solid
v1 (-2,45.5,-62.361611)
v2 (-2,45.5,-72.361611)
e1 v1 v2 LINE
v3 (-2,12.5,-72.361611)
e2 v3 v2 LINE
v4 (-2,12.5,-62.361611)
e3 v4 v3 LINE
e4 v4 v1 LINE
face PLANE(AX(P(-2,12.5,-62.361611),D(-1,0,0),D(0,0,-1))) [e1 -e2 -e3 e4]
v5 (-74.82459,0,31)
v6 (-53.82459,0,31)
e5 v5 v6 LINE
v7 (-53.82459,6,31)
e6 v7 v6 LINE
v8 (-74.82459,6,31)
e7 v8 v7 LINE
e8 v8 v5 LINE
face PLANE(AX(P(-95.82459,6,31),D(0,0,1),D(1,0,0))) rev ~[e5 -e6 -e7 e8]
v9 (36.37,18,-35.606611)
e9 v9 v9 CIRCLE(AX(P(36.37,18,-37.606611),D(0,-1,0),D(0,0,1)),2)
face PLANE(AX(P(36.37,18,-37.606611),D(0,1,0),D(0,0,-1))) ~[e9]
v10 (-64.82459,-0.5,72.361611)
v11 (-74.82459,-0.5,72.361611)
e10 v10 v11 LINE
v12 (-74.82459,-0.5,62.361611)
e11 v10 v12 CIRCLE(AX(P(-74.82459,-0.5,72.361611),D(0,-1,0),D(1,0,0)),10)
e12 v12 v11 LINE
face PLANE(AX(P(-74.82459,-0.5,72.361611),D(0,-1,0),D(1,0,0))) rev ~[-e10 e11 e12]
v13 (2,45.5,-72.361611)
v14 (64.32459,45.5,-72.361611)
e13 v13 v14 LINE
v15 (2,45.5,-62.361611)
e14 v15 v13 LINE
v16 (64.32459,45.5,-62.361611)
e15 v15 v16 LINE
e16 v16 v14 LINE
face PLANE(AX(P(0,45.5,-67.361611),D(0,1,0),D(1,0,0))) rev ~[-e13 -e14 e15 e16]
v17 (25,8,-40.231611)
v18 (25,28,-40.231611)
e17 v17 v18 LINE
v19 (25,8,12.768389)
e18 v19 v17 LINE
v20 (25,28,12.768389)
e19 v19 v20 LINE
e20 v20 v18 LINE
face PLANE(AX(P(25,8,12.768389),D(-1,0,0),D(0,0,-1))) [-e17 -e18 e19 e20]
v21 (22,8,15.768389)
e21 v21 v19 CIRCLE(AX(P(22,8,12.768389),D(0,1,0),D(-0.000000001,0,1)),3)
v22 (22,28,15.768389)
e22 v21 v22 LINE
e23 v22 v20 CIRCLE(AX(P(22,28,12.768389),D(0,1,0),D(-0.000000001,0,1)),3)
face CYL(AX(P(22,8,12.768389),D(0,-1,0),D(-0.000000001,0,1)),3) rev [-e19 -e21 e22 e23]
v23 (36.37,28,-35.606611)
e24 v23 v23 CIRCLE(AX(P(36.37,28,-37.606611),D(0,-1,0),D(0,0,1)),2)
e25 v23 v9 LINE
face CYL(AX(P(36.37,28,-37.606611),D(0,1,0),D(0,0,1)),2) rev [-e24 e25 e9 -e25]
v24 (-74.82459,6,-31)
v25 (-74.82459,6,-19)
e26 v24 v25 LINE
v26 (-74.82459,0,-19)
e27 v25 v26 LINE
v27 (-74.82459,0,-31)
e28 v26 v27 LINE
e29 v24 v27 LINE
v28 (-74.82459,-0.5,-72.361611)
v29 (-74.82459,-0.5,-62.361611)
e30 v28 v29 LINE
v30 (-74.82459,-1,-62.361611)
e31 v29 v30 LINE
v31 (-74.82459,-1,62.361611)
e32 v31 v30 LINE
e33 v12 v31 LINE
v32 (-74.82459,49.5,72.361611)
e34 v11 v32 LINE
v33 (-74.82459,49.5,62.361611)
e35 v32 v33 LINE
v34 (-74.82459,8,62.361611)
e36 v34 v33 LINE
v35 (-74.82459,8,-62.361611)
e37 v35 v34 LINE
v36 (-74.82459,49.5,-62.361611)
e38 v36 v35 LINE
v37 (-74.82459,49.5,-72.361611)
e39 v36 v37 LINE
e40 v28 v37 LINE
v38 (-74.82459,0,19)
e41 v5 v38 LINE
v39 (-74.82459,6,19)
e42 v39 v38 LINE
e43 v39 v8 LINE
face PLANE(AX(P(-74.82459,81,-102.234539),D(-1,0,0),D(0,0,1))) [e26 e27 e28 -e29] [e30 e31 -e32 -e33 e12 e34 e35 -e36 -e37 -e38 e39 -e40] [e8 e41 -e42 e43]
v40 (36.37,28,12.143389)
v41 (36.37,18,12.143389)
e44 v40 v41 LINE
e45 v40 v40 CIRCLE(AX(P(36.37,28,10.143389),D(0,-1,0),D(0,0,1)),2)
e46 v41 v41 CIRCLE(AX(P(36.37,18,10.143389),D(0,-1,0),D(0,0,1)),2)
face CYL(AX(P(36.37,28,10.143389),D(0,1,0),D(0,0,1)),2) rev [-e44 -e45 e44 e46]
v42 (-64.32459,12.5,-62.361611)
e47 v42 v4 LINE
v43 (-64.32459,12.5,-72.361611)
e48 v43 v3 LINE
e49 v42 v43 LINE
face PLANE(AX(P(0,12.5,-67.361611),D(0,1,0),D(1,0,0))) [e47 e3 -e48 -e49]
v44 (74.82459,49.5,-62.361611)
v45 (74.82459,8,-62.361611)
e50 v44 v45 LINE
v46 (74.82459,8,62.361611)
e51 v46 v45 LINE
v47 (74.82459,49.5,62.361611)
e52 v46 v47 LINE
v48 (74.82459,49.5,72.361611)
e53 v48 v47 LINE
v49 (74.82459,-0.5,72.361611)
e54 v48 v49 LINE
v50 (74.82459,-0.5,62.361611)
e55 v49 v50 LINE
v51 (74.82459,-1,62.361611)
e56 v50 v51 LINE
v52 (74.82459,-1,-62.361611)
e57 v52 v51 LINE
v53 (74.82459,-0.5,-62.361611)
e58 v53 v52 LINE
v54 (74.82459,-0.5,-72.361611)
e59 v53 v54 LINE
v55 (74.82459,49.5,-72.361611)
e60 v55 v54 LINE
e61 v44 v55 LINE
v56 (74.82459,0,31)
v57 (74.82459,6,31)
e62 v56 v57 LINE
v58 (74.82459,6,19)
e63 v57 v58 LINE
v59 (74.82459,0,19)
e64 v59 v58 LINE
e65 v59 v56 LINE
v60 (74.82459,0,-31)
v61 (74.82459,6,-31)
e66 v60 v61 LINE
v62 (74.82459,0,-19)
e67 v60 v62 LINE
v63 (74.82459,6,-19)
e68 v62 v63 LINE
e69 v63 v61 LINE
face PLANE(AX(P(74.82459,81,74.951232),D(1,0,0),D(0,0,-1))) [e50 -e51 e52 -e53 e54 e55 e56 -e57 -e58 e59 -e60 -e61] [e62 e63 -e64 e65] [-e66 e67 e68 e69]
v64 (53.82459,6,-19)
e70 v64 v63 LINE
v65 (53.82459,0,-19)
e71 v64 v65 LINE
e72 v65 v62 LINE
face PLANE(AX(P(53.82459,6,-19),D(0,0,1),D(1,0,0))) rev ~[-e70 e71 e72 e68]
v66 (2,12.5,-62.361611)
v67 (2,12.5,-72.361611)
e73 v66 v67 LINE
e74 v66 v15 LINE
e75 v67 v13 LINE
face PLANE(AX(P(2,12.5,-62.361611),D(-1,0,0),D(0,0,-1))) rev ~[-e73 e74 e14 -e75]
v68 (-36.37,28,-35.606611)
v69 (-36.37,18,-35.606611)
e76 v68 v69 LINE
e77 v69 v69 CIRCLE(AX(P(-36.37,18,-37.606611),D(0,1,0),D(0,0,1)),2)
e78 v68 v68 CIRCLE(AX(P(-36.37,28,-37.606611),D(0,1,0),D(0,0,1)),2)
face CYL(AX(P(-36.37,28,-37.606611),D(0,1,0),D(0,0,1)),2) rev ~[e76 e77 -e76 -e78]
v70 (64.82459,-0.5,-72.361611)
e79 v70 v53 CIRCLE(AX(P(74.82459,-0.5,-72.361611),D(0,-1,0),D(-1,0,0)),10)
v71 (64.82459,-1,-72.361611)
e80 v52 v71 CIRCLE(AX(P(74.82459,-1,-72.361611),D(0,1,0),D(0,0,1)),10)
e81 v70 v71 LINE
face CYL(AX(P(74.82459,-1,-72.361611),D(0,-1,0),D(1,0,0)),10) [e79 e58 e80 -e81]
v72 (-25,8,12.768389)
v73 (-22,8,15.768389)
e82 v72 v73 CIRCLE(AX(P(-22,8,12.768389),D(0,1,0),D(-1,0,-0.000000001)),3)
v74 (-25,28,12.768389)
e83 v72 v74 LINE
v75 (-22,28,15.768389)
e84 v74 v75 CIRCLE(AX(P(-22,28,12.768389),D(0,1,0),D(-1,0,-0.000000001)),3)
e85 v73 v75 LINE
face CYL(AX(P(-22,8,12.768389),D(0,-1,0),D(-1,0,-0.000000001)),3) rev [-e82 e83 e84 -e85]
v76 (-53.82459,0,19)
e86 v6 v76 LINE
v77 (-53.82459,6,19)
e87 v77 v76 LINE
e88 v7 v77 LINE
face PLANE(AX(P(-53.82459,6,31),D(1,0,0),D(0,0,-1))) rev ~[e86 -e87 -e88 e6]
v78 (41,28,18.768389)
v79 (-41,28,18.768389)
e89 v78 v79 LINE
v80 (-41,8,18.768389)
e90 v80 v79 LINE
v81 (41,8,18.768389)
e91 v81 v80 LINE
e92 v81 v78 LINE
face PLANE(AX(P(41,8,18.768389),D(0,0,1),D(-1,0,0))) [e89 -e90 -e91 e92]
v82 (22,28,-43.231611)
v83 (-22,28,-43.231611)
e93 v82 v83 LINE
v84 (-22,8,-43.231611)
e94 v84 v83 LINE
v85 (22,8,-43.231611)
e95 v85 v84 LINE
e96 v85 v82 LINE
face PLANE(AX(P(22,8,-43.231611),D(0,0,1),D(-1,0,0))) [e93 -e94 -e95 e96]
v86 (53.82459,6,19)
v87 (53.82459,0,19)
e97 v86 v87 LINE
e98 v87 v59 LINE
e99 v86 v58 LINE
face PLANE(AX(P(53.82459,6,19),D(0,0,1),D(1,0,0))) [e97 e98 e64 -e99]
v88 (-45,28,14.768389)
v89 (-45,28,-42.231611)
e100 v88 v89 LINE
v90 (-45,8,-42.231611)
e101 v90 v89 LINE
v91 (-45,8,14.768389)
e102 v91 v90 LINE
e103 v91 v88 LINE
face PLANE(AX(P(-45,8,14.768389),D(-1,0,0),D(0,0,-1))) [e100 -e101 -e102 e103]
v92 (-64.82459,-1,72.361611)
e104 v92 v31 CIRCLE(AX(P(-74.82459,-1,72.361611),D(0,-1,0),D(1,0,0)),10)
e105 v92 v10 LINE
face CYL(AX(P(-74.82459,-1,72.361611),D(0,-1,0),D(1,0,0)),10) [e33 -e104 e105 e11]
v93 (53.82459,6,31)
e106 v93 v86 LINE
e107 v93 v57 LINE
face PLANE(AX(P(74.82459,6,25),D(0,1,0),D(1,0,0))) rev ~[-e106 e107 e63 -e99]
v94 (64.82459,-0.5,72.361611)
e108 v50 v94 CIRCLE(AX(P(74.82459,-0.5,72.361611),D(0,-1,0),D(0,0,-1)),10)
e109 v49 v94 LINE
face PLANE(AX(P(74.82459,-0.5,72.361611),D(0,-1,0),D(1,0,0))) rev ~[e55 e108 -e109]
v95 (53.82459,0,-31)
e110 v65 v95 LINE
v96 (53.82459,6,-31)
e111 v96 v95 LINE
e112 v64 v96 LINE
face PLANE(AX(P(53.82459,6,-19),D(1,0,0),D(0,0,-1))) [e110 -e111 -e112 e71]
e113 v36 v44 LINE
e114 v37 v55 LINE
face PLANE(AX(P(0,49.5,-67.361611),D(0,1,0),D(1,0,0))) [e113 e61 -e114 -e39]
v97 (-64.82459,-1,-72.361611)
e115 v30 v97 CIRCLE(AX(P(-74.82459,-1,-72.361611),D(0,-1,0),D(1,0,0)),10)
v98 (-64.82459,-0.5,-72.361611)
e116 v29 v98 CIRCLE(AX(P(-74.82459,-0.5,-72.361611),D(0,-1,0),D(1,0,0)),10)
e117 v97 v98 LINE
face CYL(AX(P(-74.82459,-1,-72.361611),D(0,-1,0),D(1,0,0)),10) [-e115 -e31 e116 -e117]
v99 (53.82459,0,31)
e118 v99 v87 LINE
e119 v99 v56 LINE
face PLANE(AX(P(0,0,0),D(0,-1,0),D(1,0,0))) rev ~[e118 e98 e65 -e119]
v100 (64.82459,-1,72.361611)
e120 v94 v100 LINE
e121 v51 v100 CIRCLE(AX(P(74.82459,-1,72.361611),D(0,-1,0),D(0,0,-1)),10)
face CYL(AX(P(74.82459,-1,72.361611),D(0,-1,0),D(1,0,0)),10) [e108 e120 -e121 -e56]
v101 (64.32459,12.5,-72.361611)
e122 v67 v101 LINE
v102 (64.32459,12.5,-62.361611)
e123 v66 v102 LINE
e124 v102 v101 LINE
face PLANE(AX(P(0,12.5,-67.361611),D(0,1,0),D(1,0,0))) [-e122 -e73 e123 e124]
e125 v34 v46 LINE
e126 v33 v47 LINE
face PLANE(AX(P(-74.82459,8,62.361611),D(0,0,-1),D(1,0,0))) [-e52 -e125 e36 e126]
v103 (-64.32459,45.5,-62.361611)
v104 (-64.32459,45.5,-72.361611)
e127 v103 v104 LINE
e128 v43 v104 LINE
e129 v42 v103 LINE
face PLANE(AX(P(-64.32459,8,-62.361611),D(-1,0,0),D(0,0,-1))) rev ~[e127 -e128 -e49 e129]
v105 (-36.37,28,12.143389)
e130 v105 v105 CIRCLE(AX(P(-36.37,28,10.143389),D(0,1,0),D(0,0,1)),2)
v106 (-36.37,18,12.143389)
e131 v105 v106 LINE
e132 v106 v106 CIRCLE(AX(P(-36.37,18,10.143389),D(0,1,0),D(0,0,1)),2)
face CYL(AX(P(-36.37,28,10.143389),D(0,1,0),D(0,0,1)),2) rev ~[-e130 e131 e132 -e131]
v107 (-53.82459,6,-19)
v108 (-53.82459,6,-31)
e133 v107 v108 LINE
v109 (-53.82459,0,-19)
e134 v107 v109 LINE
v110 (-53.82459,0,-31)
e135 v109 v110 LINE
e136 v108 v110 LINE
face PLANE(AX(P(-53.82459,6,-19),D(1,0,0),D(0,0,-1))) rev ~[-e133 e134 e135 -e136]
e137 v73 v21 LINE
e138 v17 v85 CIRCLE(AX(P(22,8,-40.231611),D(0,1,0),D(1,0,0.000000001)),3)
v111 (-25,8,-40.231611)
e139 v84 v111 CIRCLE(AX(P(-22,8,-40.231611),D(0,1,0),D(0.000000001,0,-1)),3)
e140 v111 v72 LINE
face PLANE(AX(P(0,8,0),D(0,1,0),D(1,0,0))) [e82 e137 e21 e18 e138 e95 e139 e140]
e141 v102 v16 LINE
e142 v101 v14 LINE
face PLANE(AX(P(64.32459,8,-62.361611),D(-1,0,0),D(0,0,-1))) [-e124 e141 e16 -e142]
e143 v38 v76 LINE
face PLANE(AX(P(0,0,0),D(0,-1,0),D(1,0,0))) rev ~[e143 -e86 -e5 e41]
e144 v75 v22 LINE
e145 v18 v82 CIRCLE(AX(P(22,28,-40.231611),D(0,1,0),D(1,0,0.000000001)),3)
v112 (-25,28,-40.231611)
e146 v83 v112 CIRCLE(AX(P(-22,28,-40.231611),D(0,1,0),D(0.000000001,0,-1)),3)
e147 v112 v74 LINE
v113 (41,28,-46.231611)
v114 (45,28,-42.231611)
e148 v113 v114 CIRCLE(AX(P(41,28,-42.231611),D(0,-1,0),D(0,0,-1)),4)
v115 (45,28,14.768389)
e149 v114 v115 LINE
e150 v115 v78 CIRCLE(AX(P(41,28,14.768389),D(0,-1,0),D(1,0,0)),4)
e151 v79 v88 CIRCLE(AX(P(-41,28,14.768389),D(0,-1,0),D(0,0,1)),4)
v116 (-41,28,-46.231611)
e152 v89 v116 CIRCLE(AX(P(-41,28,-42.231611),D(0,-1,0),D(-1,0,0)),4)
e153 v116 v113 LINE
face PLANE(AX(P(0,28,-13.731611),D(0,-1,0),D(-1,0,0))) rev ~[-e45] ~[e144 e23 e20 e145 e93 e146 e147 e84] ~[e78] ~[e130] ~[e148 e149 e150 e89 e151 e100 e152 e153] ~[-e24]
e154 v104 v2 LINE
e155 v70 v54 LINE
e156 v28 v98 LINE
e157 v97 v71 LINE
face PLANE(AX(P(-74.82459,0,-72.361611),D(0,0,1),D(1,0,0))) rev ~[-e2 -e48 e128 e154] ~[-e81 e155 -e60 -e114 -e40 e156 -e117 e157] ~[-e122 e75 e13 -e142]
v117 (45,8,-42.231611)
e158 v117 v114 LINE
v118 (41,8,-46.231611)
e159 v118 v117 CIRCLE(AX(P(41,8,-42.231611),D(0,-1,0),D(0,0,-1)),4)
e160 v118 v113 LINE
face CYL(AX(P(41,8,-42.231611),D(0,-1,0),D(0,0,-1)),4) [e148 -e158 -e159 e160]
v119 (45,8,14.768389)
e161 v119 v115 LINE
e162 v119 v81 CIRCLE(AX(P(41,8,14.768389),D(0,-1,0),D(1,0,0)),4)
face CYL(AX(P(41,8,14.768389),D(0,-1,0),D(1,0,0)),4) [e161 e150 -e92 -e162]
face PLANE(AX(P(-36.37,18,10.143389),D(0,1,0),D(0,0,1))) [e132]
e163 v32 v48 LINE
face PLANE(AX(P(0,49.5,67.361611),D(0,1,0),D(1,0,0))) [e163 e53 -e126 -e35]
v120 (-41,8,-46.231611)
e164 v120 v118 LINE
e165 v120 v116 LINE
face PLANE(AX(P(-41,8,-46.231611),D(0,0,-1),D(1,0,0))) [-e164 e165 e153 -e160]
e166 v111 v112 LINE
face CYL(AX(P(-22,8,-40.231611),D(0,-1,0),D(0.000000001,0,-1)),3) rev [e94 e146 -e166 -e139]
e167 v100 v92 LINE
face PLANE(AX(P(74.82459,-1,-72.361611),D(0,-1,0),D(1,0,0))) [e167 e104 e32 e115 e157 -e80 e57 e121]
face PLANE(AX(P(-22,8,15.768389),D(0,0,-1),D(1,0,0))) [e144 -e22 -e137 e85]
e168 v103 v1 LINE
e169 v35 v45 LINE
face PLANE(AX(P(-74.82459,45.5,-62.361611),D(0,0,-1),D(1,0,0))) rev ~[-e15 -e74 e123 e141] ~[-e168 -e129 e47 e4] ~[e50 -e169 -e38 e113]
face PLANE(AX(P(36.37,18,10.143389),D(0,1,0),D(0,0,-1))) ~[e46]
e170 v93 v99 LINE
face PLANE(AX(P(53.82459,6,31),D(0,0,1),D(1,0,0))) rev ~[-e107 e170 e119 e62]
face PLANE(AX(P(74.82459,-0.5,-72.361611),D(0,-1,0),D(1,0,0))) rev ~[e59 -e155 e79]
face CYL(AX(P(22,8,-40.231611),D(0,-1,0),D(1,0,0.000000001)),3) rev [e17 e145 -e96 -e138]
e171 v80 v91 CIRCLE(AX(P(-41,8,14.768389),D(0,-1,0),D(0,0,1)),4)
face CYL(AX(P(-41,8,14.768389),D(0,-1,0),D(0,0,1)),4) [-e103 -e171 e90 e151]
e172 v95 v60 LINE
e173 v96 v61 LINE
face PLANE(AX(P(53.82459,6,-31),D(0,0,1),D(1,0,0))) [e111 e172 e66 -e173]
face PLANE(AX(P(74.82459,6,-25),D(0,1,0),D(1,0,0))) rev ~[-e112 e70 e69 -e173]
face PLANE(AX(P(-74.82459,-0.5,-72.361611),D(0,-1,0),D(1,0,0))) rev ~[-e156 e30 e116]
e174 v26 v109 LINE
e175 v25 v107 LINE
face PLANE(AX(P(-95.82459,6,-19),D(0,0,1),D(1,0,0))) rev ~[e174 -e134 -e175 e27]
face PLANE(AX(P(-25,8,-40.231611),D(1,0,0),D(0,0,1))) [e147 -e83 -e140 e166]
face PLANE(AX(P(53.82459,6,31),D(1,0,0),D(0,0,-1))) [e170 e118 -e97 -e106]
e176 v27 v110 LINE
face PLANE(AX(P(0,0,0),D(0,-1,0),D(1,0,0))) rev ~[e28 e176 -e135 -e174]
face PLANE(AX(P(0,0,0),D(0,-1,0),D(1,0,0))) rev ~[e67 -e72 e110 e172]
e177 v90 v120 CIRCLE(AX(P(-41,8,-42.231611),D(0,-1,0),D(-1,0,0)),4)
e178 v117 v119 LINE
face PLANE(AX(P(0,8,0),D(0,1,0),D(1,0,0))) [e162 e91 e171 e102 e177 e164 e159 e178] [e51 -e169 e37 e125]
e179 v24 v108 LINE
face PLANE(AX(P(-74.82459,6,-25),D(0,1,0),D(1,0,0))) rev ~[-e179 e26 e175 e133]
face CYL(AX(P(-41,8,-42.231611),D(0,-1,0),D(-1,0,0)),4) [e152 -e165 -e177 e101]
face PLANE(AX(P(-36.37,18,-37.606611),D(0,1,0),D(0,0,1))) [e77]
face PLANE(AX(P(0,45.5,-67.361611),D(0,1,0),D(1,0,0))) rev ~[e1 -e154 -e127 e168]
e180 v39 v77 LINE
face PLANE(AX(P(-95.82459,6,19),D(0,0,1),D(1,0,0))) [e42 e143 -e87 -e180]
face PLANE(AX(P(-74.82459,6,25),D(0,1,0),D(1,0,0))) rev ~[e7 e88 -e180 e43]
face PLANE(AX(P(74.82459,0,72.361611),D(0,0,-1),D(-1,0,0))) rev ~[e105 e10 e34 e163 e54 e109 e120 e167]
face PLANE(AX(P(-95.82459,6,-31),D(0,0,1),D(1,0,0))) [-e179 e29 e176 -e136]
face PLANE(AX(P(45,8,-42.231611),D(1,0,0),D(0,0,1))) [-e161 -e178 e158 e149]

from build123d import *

# Parameters (mm, degrees)
BOSS_EXTRUDE1_DEPTH     = 8
SKETCH2_W               = 10.5
SKETCH2_H               = 10
BOSS_EXTRUDE2_DEPTH     = 37.5
SKETCH4_W               = 128.649180674
SKETCH4_H               = 10
BOSS_EXTRUDE4_DEPTH     = 4.5
BOSS_EXTRUDE5_DEPTH     = 10
SKETCH6_W               = 149.649180674
SKETCH6_H               = 10
BOSS_EXTRUDE6_DEPTH     = 4
CUT_EXTRUDE1_REACH      = 249.54
SKETCH7_R               = 2.5
MIRROR2_COPY_1_REACH    = 249.54
MIRROR2_COPY_1_SKETCH_R = 2.5
CUT_EXTRUDE2_REACH      = 314.548
SKETCH8_R               = 2.5
BOSS_EXTRUDE8_DEPTH     = 63
CUT_EXTRUDE3_REACH      = 257.708
SKETCH10_R              = 2.5
MIRROR5_COPY_1_REACH    = 257.708
MIRROR5_COPY_1_SKETCH_R = 2.5
CUT_EXTRUDE4_REACH      = 321.057
SKETCH11_R              = 2.5
SKETCH12_W              = 6.577848346
SKETCH12_H              = 46
BOSS_EXTRUDE9_DEPTH     = 12
BOSS_EXTRUDE10_DEPTH    = 20
SKETCH14_R              = 2
CUT_EXTRUDE5_DEPTH      = 10
SKETCH15_W              = 149.649180674
SKETCH15_H              = 10
BOSS_EXTRUDE11_DEPTH    = 41.5
SKETCH17_R              = 2
CUT_EXTRUDE6_DEPTH      = 10
ENL_V_START             = -2
ESQUISSE1_W             = 12
ESQUISSE1_H             = 42
ESQUISSE1_W_2           = 42
ESQUISSE1_H_2           = 12
ENL_V_MAT_EXTRU_1_DEPTH = 6
BOSS_EXTRU_1_DEPTH      = 1
CONG_1_R                = 5
ENL_V_MAT_EXTRU_2_DEPTH = 10
ESQUISSE5_W             = 52
ESQUISSE5_H             = 55
ENL_V_MAT_EXTRU_3_DEPTH = 10
ESQUISSE6_W             = 52
ESQUISSE6_H             = 55
ENL_V_MAT_EXTRU_4_DEPTH = 10
ESQUISSE7_W             = 52
ESQUISSE7_H             = 55
ENL_V_MAT_EXTRU_5_DEPTH = 10
ESQUISSE8_W             = 52
ESQUISSE8_H             = 55
ENL_V_MAT_EXTRU_6_DEPTH = 10
ESQUISSE9_W             = 52
ESQUISSE9_H             = 55
ENL_V_MAT_EXTRU_7_DEPTH = 10
BOSS_EXTRU_2_REACH      = 182.079
ESQUISSE11_W            = 4
ESQUISSE11_H            = 10
ENL_V_MAT_EXTRU_8_DEPTH = 186.634594874
ESQUISSE13_R            = 10
BOSS_EXTRU_3_DEPTH      = 0.5


with BuildPart() as part:
    # Sketch1 → Boss-Extrude1 (new body)
    with BuildSketch(Plane(origin=(0, 0, 0), x_dir=(1, 0, 0), z_dir=(0, 1, 0))):
        Polygon((-150, 45), (-150, -45), (-74.824590337, -72.361611466), (74.824590337, -72.361611466), (150, -45), (150, 45), (74.824590337, 72.361611466), (-74.824590337, 72.361611466), align=None)
    extrude(amount=BOSS_EXTRUDE1_DEPTH)

    # Sketch2 → Boss-Extrude2 (add)
    with BuildSketch(Plane(origin=(0, 8, 0), x_dir=(1, 0, 0), z_dir=(0, 1, 0))):
        with Locations((69.574590337, 67.361611466)):
            Rectangle(SKETCH2_W, SKETCH2_H)
        with Locations((-69.574590337, 67.361611466)):
            Rectangle(SKETCH2_W, SKETCH2_H)
    extrude(amount=BOSS_EXTRUDE2_DEPTH)

    # Sketch4 → Boss-Extrude4 (add)
    with BuildSketch(Plane(origin=(0, 8, 0), x_dir=(1, 0, 0), z_dir=(0, 1, 0))):
        with Locations((0, 67.361611466)):
            Rectangle(SKETCH4_W, SKETCH4_H)
    extrude(amount=BOSS_EXTRUDE4_DEPTH)

    # Sketch5 → Boss-Extrude5 (add)
    with BuildSketch(Plane(origin=(0, 8, 0), x_dir=(1, 0, 0), z_dir=(0, 1, 0))):
        Polygon((-74.824590337, 62.361611466), (-87.040594407, 57.915349603), (-140.603073792, 38.420201433), (-143.422151654, 37.394141003), (-143.422151654, -37.394141003), (-140.603073792, -38.420201433), (-87.040594407, -57.915349603), (-74.824590337, -62.361611466), (-74.824590337, -72.361611466), (-150, -45), (-150, 45), (-74.824590337, 72.361611466), align=None)
        Polygon((150, 45), (150, -45), (74.824590337, -72.361611466), (74.824590337, -62.361611466), (87.040594407, -57.915349603), (140.603073792, -38.420201433), (143.422151654, -37.394141003), (143.422151654, 37.394141003), (140.603073792, 38.420201433), (87.040594407, 57.915349603), (74.824590337, 62.361611466), (74.824590337, 72.361611466), align=None)
    extrude(amount=BOSS_EXTRUDE5_DEPTH)

    # Sketch6 → Boss-Extrude6 (add)
    with BuildSketch(Plane(origin=(0, 45.5, 0), x_dir=(1, 0, 0), z_dir=(0, 1, 0))):
        with Locations((0, 67.361611466)):
            Rectangle(SKETCH6_W, SKETCH6_H)
    extrude(amount=BOSS_EXTRUDE6_DEPTH)

    # Sketch7 → Cut-Extrude1 (cut, up to next)
    with BuildSketch(Plane(origin=(32.009387984, 0, -87.945070697), x_dir=(-0.9396926207859068, 0, -0.3420201433256732), z_dir=(0.3420201433256732, 0, -0.9396926207859068)), mode=Mode.PRIVATE) as cut_extrude1_sk1:
        with Locations((-113.852986668, 13)):
            Circle(SKETCH7_R)
    cut_extrude1_tool1 = extrude(cut_extrude1_sk1.sketch, amount=-CUT_EXTRUDE1_REACH, mode=Mode.PRIVATE) & part.part
    # Sketch7 → Cut-Extrude1 (cut, up to next)
    with BuildSketch(Plane(origin=(32.009387984, 0, -87.945070697), x_dir=(-0.9396926207859068, 0, -0.3420201433256732), z_dir=(0.3420201433256732, 0, -0.9396926207859068)), mode=Mode.PRIVATE) as cut_extrude1_sk2:
        with Locations((-57.272986668, 13)):
            Circle(SKETCH7_R)
    cut_extrude1_tool2 = extrude(cut_extrude1_sk2.sketch, amount=-CUT_EXTRUDE1_REACH, mode=Mode.PRIVATE) & part.part
    cut_extrude1_1 = cut_extrude1_tool1.solids().sort_by_distance((138.996199, 13, -49.005056))[0]
    add(cut_extrude1_1, mode=Mode.SUBTRACT)
    cut_extrude1_2 = cut_extrude1_tool2.solids().sort_by_distance((85.828391, 13, -68.356556))[0]
    add(cut_extrude1_2, mode=Mode.SUBTRACT)
    cut_extrude1 = cut_extrude1_1 + cut_extrude1_2  # Cut-Extrude1 as one shape, for the pattern or mirror that repeats it

    # Mirror1: Cut-Extrude1 across plane
    add(cut_extrude1.mirror(Plane(origin=(0, 0, 0), x_dir=(0, 0, 1), z_dir=(1, 0, 0))), mode=Mode.SUBTRACT)

    # Mirror2: Cut-Extrude1 across plane
    add(cut_extrude1.mirror(Plane(origin=(0, 0, 0), x_dir=(1, 0, 0), z_dir=(0, 0, -1))), mode=Mode.SUBTRACT)

    # Mirror2 copy 1 sketch → Mirror2 copy 1 (cut, up to next)
    with BuildSketch(Plane(origin=(-32.009387984, 0, 87.945070697), x_dir=(0.9396926207859068, 0, 0.3420201433256732), z_dir=(-0.3420201433256732, 0, 0.9396926207859068)), mode=Mode.PRIVATE) as mirror2_copy_1_sk1:
        with Locations((-113.852986668, 13)):
            Circle(MIRROR2_COPY_1_SKETCH_R)
    mirror2_copy_1_tool1 = extrude(mirror2_copy_1_sk1.sketch, amount=-MIRROR2_COPY_1_REACH, mode=Mode.PRIVATE) & part.part
    # Mirror2 copy 1 sketch → Mirror2 copy 1 (cut, up to next)
    with BuildSketch(Plane(origin=(-32.009387984, 0, 87.945070697), x_dir=(0.9396926207859068, 0, 0.3420201433256732), z_dir=(-0.3420201433256732, 0, 0.9396926207859068)), mode=Mode.PRIVATE) as mirror2_copy_1_sk2:
        with Locations((-57.272986668, 13)):
            Circle(MIRROR2_COPY_1_SKETCH_R)
    mirror2_copy_1_tool2 = extrude(mirror2_copy_1_sk2.sketch, amount=-MIRROR2_COPY_1_REACH, mode=Mode.PRIVATE) & part.part
    add(mirror2_copy_1_tool1.solids().sort_by_distance((-138.996199, 13, 49.005056))[0], mode=Mode.SUBTRACT)
    add(mirror2_copy_1_tool2.solids().sort_by_distance((-85.828391, 13, 68.356556))[0], mode=Mode.SUBTRACT)

    # Sketch8 → Cut-Extrude2 (cut, up to next)
    with BuildSketch(Plane(origin=(150, 0, 0), x_dir=(0, 0, -1), z_dir=(1, 0, 0)), mode=Mode.PRIVATE) as cut_extrude2_sk1:
        with Locations((-28.29, 13)):
            Circle(SKETCH8_R)
    cut_extrude2_tool1 = extrude(cut_extrude2_sk1.sketch, amount=-CUT_EXTRUDE2_REACH, mode=Mode.PRIVATE) & part.part
    # Sketch8 → Cut-Extrude2 (cut, up to next)
    with BuildSketch(Plane(origin=(150, 0, 0), x_dir=(0, 0, -1), z_dir=(1, 0, 0)), mode=Mode.PRIVATE) as cut_extrude2_sk2:
        with Locations((28.29, 13)):
            Circle(SKETCH8_R)
    cut_extrude2_tool2 = extrude(cut_extrude2_sk2.sketch, amount=-CUT_EXTRUDE2_REACH, mode=Mode.PRIVATE) & part.part
    cut_extrude2_1 = cut_extrude2_tool1.solids().sort_by_distance((150, 13, 28.29))[0]
    add(cut_extrude2_1, mode=Mode.SUBTRACT)
    cut_extrude2_2 = cut_extrude2_tool2.solids().sort_by_distance((150, 13, -28.29))[0]
    add(cut_extrude2_2, mode=Mode.SUBTRACT)
    cut_extrude2 = cut_extrude2_1 + cut_extrude2_2  # Cut-Extrude2 as one shape, for the pattern or mirror that repeats it

    # Mirror3: Cut-Extrude2 across plane
    add(cut_extrude2.mirror(Plane(origin=(0, 0, 0), x_dir=(0, 0, 1), z_dir=(1, 0, 0))), mode=Mode.SUBTRACT)

    # Sketch9 → Boss-Extrude8 (add)
    with BuildSketch(Plane(origin=(0, 18, 0), x_dir=(1, 0, 0), z_dir=(0, 1, 0))):
        Polygon((143.422151654, 23), (150, 23), (150, 45), (134.025225447, 50.814342437), (130.811287398, 41.984120221), (143.422151654, 37.394141003), align=None)
        Polygon((74.824590337, 72.361611466), (90.79936489, 66.54726903), (87.585426842, 57.717046814), (74.824590337, 62.361611466), align=None)
        Polygon((-74.824590337, 62.361611466), (-74.824590337, 72.361611466), (-90.79936489, 66.54726903), (-87.585426842, 57.717046814), align=None)
        Polygon((-143.422151654, 37.394141003), (-143.422151654, 23), (-150, 23), (-150, 45), (-134.025225447, 50.814342437), (-130.811287398, 41.984120221), align=None)
        Polygon((143.422151654, -37.394141003), (143.422151654, -23), (150, -23), (150, -45), (134.025225447, -50.814342437), (130.811287398, -41.984120221), align=None)
        Polygon((-143.422151654, -23), (-150, -23), (-150, -45), (-134.025225447, -50.814342437), (-130.811287398, -41.984120221), (-143.422151654, -37.394141003), align=None)
        Polygon((-74.824590337, -72.361611466), (-90.79936489, -66.54726903), (-87.585426842, -57.717046814), (-74.824590337, -62.361611466), align=None)
        Polygon((74.824590337, -62.361611466), (74.824590337, -72.361611466), (90.79936489, -66.54726903), (87.585426842, -57.717046814), align=None)
    extrude(amount=BOSS_EXTRUDE8_DEPTH)

    # Sketch10 → Cut-Extrude3 (cut, up to next)
    with BuildSketch(Plane(origin=(32.009387984, 0, -87.945070697), x_dir=(-0.9396926207859068, 0, -0.3420201433256732), z_dir=(0.3420201433256732, 0, -0.9396926207859068)), mode=Mode.PRIVATE) as cut_extrude3_sk1:
        with Locations((-113.852986668, 74)):
            Circle(SKETCH10_R)
    cut_extrude3_tool1 = extrude(cut_extrude3_sk1.sketch, amount=-CUT_EXTRUDE3_REACH, mode=Mode.PRIVATE) & part.part
    # Sketch10 → Cut-Extrude3 (cut, up to next)
    with BuildSketch(Plane(origin=(32.009387984, 0, -87.945070697), x_dir=(-0.9396926207859068, 0, -0.3420201433256732), z_dir=(0.3420201433256732, 0, -0.9396926207859068)), mode=Mode.PRIVATE) as cut_extrude3_sk2:
        with Locations((-57.272986668, 74)):
            Circle(SKETCH10_R)
    cut_extrude3_tool2 = extrude(cut_extrude3_sk2.sketch, amount=-CUT_EXTRUDE3_REACH, mode=Mode.PRIVATE) & part.part
    cut_extrude3_1 = cut_extrude3_tool1.solids().sort_by_distance((138.996199, 74, -49.005056))[0]
    add(cut_extrude3_1, mode=Mode.SUBTRACT)
    cut_extrude3_2 = cut_extrude3_tool2.solids().sort_by_distance((85.828391, 74, -68.356556))[0]
    add(cut_extrude3_2, mode=Mode.SUBTRACT)
    cut_extrude3 = cut_extrude3_1 + cut_extrude3_2  # Cut-Extrude3 as one shape, for the pattern or mirror that repeats it

    # Mirror4: Cut-Extrude3 across plane
    add(cut_extrude3.mirror(Plane(origin=(0, 0, 0), x_dir=(0, 0, 1), z_dir=(1, 0, 0))), mode=Mode.SUBTRACT)

    # Mirror5: Cut-Extrude3 across plane
    add(cut_extrude3.mirror(Plane(origin=(0, 0, 0), x_dir=(1, 0, 0), z_dir=(0, 0, -1))), mode=Mode.SUBTRACT)

    # Mirror5 copy 1 sketch → Mirror5 copy 1 (cut, up to next)
    with BuildSketch(Plane(origin=(-32.009387984, 0, 87.945070697), x_dir=(0.9396926207859068, 0, 0.3420201433256732), z_dir=(-0.3420201433256732, 0, 0.9396926207859068)), mode=Mode.PRIVATE) as mirror5_copy_1_sk1:
        with Locations((-113.852986668, 74)):
            Circle(MIRROR5_COPY_1_SKETCH_R)
    mirror5_copy_1_tool1 = extrude(mirror5_copy_1_sk1.sketch, amount=-MIRROR5_COPY_1_REACH, mode=Mode.PRIVATE) & part.part
    # Mirror5 copy 1 sketch → Mirror5 copy 1 (cut, up to next)
    with BuildSketch(Plane(origin=(-32.009387984, 0, 87.945070697), x_dir=(0.9396926207859068, 0, 0.3420201433256732), z_dir=(-0.3420201433256732, 0, 0.9396926207859068)), mode=Mode.PRIVATE) as mirror5_copy_1_sk2:
        with Locations((-57.272986668, 74)):
            Circle(MIRROR5_COPY_1_SKETCH_R)
    mirror5_copy_1_tool2 = extrude(mirror5_copy_1_sk2.sketch, amount=-MIRROR5_COPY_1_REACH, mode=Mode.PRIVATE) & part.part
    add(mirror5_copy_1_tool1.solids().sort_by_distance((-138.996199, 74, 49.005056))[0], mode=Mode.SUBTRACT)
    add(mirror5_copy_1_tool2.solids().sort_by_distance((-85.828391, 74, 68.356556))[0], mode=Mode.SUBTRACT)

    # Sketch11 → Cut-Extrude4 (cut, up to next)
    with BuildSketch(Plane(origin=(150, 0, 0), x_dir=(0, 0, -1), z_dir=(1, 0, 0)), mode=Mode.PRIVATE) as cut_extrude4_sk1:
        with Locations((-28.29, 74)):
            Circle(SKETCH11_R)
    cut_extrude4_tool1 = extrude(cut_extrude4_sk1.sketch, amount=-CUT_EXTRUDE4_REACH, mode=Mode.PRIVATE) & part.part
    # Sketch11 → Cut-Extrude4 (cut, up to next)
    with BuildSketch(Plane(origin=(150, 0, 0), x_dir=(0, 0, -1), z_dir=(1, 0, 0)), mode=Mode.PRIVATE) as cut_extrude4_sk2:
        with Locations((28.29, 74)):
            Circle(SKETCH11_R)
    cut_extrude4_tool2 = extrude(cut_extrude4_sk2.sketch, amount=-CUT_EXTRUDE4_REACH, mode=Mode.PRIVATE) & part.part
    cut_extrude4_1 = cut_extrude4_tool1.solids().sort_by_distance((150, 74, 28.29))[0]
    add(cut_extrude4_1, mode=Mode.SUBTRACT)
    cut_extrude4_2 = cut_extrude4_tool2.solids().sort_by_distance((150, 74, -28.29))[0]
    add(cut_extrude4_2, mode=Mode.SUBTRACT)
    cut_extrude4 = cut_extrude4_1 + cut_extrude4_2  # Cut-Extrude4 as one shape, for the pattern or mirror that repeats it

    # Mirror6: Cut-Extrude4 across plane
    add(cut_extrude4.mirror(Plane(origin=(0, 0, 0), x_dir=(0, 0, 1), z_dir=(1, 0, 0))), mode=Mode.SUBTRACT)

    # Sketch12 → Boss-Extrude9 (add)
    with BuildSketch(Plane(origin=(0, 81, 0), x_dir=(1, 0, 0), z_dir=(0, 1, 0))):
        Polygon((130.811287398, 41.984120221), (87.585426842, 57.717046814), (90.79936489, 66.54726903), (134.025225447, 50.814342437), align=None)
        with Locations((146.711075827, 0)):
            Rectangle(SKETCH12_W, SKETCH12_H)
        Polygon((134.025225447, -50.814342437), (130.811287398, -41.984120221), (87.585426842, -57.717046814), (90.79936489, -66.54726903), align=None)
        Polygon((-130.811287398, -41.984120221), (-87.585426842, -57.717046814), (-90.79936489, -66.54726903), (-134.025225447, -50.814342437), align=None)
        with Locations((-146.711075827, 0)):
            Rectangle(SKETCH12_W, SKETCH12_H)
        Polygon((-134.025225447, 50.814342437), (-130.811287398, 41.984120221), (-87.585426842, 57.717046814), (-90.79936489, 66.54726903), align=None)
    extrude(amount=-BOSS_EXTRUDE9_DEPTH)

    # Sketch13 → Boss-Extrude10 (add)
    with BuildSketch(Plane(origin=(0, 8, 0), x_dir=(1, 0, 0), z_dir=(0, 1, 0))):
        with BuildLine():
            Line((-41, 46.231611466), (-29, 46.231611466))
            Line((-29, 46.231611466), (29, 46.231611466))
            Line((29, 46.231611466), (41, 46.231611466))
            ThreePointArc((41, 46.231611466), (43.828427125, 45.060038591), (45, 42.231611466))
            Line((45, 42.231611466), (45, -14.768388534))
            ThreePointArc((45, -14.768388534), (43.828427125, -17.596815659), (41, -18.768388534))
            Line((41, -18.768388534), (29, -18.768388534))
            Line((29, -18.768388534), (-29, -18.768388534))
            Line((-29, -18.768388534), (-41, -18.768388534))
            ThreePointArc((-41, -18.768388534), (-43.828427125, -17.596815659), (-45, -14.768388534))
            Line((-45, -14.768388534), (-45, 42.231611466))
            ThreePointArc((-45, 42.231611466), (-43.828427125, 45.060038591), (-41, 46.231611466))
        make_face()
        with BuildLine():
            Line((-25, 40.231611466), (-25, -12.768388534))
            ThreePointArc((-25, -12.768388534), (-24.121320344, -14.889708878), (-22, -15.768388534))
            Line((-22, -15.768388534), (22, -15.768388534))
            ThreePointArc((22, -15.768388534), (24.121320344, -14.889708878), (25, -12.768388534))
            Line((25, -12.768388534), (25, 40.231611466))
            ThreePointArc((25, 40.231611466), (24.121320344, 42.35293181), (22, 43.231611466))
            Line((22, 43.231611466), (-22, 43.231611466))
            ThreePointArc((-22, 43.231611466), (-24.121320344, 42.35293181), (-25, 40.231611466))
        make_face(mode=Mode.SUBTRACT)
    extrude(amount=BOSS_EXTRUDE10_DEPTH)

    # Sketch14 → Cut-Extrude5 (cut)
    with BuildSketch(Plane(origin=(0, 28, 0), x_dir=(1, 0, 0), z_dir=(0, 1, 0))):
        with Locations(Location((-36.37, 37.606611466, 0), (0, 0, 270))):
            Circle(SKETCH14_R)
        with Locations(Location((-36.37, -10.143388534, 0), (0, 0, 270))):
            Circle(SKETCH14_R)
    cut_extrude5 = extrude(amount=-CUT_EXTRUDE5_DEPTH, mode=Mode.SUBTRACT)

    # Mirror7: Cut-Extrude5 across plane
    add(cut_extrude5.mirror(Plane(origin=(0, 0, 0), x_dir=(0, 0, 1), z_dir=(1, 0, 0))), mode=Mode.SUBTRACT)

    # Sketch15 → Boss-Extrude11 (add)
    with BuildSketch(Plane(origin=(0, 8, 0), x_dir=(1, 0, 0), z_dir=(0, 1, 0))):
        with Locations((0, -67.361611466)):
            Rectangle(SKETCH15_W, SKETCH15_H)
    extrude(amount=BOSS_EXTRUDE11_DEPTH)

    # Sketch17 → Cut-Extrude6 (cut)
    with BuildSketch(Plane(origin=(0, 81, 0), x_dir=(1, 0, 0), z_dir=(0, 1, 0))):
        with Locations(Location((145.085087734, -41.558541382, 0), (0, 0, 270))):
            Circle(SKETCH17_R)
        with Locations(Location((145.085087734, 41.558541382, 0), (0, 0, 90))):
            Circle(SKETCH17_R)
        with Locations(Location((-145.085087734, 41.558541382, 0), (0, 0, 270))):
            Circle(SKETCH17_R)
        with Locations(Location((-145.085087734, -41.558541382, 0), (0, 0, 90))):
            Circle(SKETCH17_R)
    extrude(amount=-CUT_EXTRUDE6_DEPTH, mode=Mode.SUBTRACT)

    # Esquisse1 → Enlèv. mat.-Extru.1 (cut)
    with BuildSketch(Plane(origin=(0, 8, 0), x_dir=(1, 0, 0), z_dir=(0, 1, 0)).offset(ENL_V_START)):
        with Locations((-126, 0)):
            Rectangle(ESQUISSE1_W, ESQUISSE1_H)
        with Locations((126, 0)):
            Rectangle(ESQUISSE1_W, ESQUISSE1_H)
        with Locations((-74.824590337, 25)):
            Rectangle(ESQUISSE1_W_2, ESQUISSE1_H_2)
        with Locations((-74.824590337, -25)):
            Rectangle(ESQUISSE1_W_2, ESQUISSE1_H_2)
        with Locations((74.824590337, -25)):
            Rectangle(ESQUISSE1_W_2, ESQUISSE1_H_2)
        with Locations((74.824590337, 25)):
            Rectangle(ESQUISSE1_W_2, ESQUISSE1_H_2)
    extrude(amount=-ENL_V_MAT_EXTRU_1_DEPTH, mode=Mode.SUBTRACT)

    # Esquisse2 → Boss.-Extru.1 (add)
    with BuildSketch(Plane.XZ):
        Polygon((-150, -45), (-74.824590337, -72.361611466), (74.824590337, -72.361611466), (150, -45), (150, 45), (74.824590337, 72.361611466), (-74.824590337, 72.361611466), (-150, 45), align=None)
    extrude(amount=BOSS_EXTRU_1_DEPTH)

    # Congé1
    cong_1_edges = [part.edges().sort_by_distance(p)[0] for p in [
        (150, 40, -45),
        (150, 40, 45),
        (-150, 40, 45),
        (-150, 40, -45),
    ]]
    fillet(cong_1_edges, radius=CONG_1_R)

    # Esquisse3 → Enlèv. mat.-Extru.2 (cut)
    with BuildSketch(Plane(origin=(-32.009387984, 0, 87.945070697), x_dir=(0.9396926207859068, 0, 0.34202014332567315), z_dir=(-0.34202014332567315, 0, 0.9396926207859069))):
        with BuildLine():
            Line((-56.562986668, 69), (-62.562986668, 69))
            Line((-62.562986668, 69), (-62.562986668, 18))
            Line((-62.562986668, 18), (-108.562986668, 18))
            Line((-108.562986668, 18), (-108.562986668, 14))
            Line((-108.562986668, 14), (-59.564274516, 14))
            ThreePointArc((-59.564274516, 14), (-58.328004424, 15.266481312), (-56.562986668, 15.3970607))
            Line((-56.562986668, 15.3970607), (-56.562986668, 69))
        make_face()
    extrude(amount=-ENL_V_MAT_EXTRU_2_DEPTH, mode=Mode.SUBTRACT)

    # Esquisse5 → Enlèv. mat.-Extru.3 (cut)
    with BuildSketch(Plane.ZY.offset(150)):
        with Locations((3, 41.5)):
            Rectangle(ESQUISSE5_W, ESQUISSE5_H)
    extrude(amount=-ENL_V_MAT_EXTRU_3_DEPTH, mode=Mode.SUBTRACT)

    # Esquisse6 → Enlèv. mat.-Extru.4 (cut)
    with BuildSketch(Plane(origin=(-32.009387984, 0, -87.945070697), x_dir=(-0.9396926207859068, 0, 0.34202014332567315), z_dir=(-0.34202014332567315, 0, -0.9396926207859069))):
        with Locations((88.562986668, 41.5)):
            Rectangle(ESQUISSE6_W, ESQUISSE6_H)
    extrude(amount=-ENL_V_MAT_EXTRU_4_DEPTH, mode=Mode.SUBTRACT)

    # Esquisse7 → Enlèv. mat.-Extru.5 (cut)
    with BuildSketch(Plane(origin=(32.009387984, 0, -87.945070697), x_dir=(-0.9396926207859068, 0, -0.3420201433256732), z_dir=(0.3420201433256732, 0, -0.9396926207859068))):
        with Locations((-82.562986668, 41.5)):
            Rectangle(ESQUISSE7_W, ESQUISSE7_H)
    extrude(amount=-ENL_V_MAT_EXTRU_5_DEPTH, mode=Mode.SUBTRACT)

    # Esquisse8 → Enlèv. mat.-Extru.6 (cut)
    with BuildSketch(Plane(origin=(150, 0, 0), x_dir=(0, 0, -1), z_dir=(1, 0, 0))):
        with Locations((3, 41.5)):
            Rectangle(ESQUISSE8_W, ESQUISSE8_H)
    extrude(amount=-ENL_V_MAT_EXTRU_6_DEPTH, mode=Mode.SUBTRACT)

    # Esquisse9 → Enlèv. mat.-Extru.7 (cut)
    with BuildSketch(Plane(origin=(32.009387984, 0, 87.945070697), x_dir=(0.9396926207859068, 0, -0.3420201433256732), z_dir=(0.3420201433256732, 0, 0.9396926207859068))):
        with Locations((88.562986668, 41.5)):
            Rectangle(ESQUISSE9_W, ESQUISSE9_H)
    extrude(amount=-ENL_V_MAT_EXTRU_7_DEPTH, mode=Mode.SUBTRACT)

    # Esquisse11 → Boss.-Extru.2 (add, up to next)
    with BuildSketch(Plane(origin=(0, 12.5, 0), x_dir=(1, 0, 0), z_dir=(0, 1, 0)), mode=Mode.PRIVATE) as boss_extru_2_sk1:
        with Locations((0, 67.361611466)):
            Rectangle(ESQUISSE11_W, ESQUISSE11_H)
    boss_extru_2_tool1 = extrude(boss_extru_2_sk1.sketch, amount=BOSS_EXTRU_2_REACH, mode=Mode.PRIVATE) - part.part
    add(boss_extru_2_tool1.solids().sort_by_distance((0, 12.5, -67.361611))[0])

    # Esquisse12 → Enlèv. mat.-Extru.8 (cut, through all)
    with BuildSketch(Plane(origin=(0, 81, 0), x_dir=(1, 0, 0), z_dir=(0, 1, 0))):
        Polygon((74.824590337, -74.951231664), (74.824590337, 102.234539141), (-74.824590337, 102.234539141), (-74.824590337, -146.92644803), (-203.199413677, -126.057634384), (-188.022094661, 94.645879634), (-19.291679618, 194.685093665), (183.822221219, 119.309023034), (217.580951732, -44.120206721), (162.3923462, -136.492041207), (87.820241487, -136.492041207), align=None)
    extrude(amount=-ENL_V_MAT_EXTRU_8_DEPTH, mode=Mode.SUBTRACT)

    # Esquisse13 → Boss.-Extru.3 (add)
    with BuildSketch(Plane.XZ.offset(1)):
        with Locations((74.824590337, -72.361611466)):
            Circle(ESQUISSE13_R)
        with Locations((-74.824590337, -72.361611466)):
            Circle(ESQUISSE13_R)
        with Locations((-74.824590337, 72.361611466)):
            Circle(ESQUISSE13_R)
        with Locations((74.824590337, 72.361611466)):
            Circle(ESQUISSE13_R)
    extrude(amount=-BOSS_EXTRU_3_DEPTH)


solid = part.part
